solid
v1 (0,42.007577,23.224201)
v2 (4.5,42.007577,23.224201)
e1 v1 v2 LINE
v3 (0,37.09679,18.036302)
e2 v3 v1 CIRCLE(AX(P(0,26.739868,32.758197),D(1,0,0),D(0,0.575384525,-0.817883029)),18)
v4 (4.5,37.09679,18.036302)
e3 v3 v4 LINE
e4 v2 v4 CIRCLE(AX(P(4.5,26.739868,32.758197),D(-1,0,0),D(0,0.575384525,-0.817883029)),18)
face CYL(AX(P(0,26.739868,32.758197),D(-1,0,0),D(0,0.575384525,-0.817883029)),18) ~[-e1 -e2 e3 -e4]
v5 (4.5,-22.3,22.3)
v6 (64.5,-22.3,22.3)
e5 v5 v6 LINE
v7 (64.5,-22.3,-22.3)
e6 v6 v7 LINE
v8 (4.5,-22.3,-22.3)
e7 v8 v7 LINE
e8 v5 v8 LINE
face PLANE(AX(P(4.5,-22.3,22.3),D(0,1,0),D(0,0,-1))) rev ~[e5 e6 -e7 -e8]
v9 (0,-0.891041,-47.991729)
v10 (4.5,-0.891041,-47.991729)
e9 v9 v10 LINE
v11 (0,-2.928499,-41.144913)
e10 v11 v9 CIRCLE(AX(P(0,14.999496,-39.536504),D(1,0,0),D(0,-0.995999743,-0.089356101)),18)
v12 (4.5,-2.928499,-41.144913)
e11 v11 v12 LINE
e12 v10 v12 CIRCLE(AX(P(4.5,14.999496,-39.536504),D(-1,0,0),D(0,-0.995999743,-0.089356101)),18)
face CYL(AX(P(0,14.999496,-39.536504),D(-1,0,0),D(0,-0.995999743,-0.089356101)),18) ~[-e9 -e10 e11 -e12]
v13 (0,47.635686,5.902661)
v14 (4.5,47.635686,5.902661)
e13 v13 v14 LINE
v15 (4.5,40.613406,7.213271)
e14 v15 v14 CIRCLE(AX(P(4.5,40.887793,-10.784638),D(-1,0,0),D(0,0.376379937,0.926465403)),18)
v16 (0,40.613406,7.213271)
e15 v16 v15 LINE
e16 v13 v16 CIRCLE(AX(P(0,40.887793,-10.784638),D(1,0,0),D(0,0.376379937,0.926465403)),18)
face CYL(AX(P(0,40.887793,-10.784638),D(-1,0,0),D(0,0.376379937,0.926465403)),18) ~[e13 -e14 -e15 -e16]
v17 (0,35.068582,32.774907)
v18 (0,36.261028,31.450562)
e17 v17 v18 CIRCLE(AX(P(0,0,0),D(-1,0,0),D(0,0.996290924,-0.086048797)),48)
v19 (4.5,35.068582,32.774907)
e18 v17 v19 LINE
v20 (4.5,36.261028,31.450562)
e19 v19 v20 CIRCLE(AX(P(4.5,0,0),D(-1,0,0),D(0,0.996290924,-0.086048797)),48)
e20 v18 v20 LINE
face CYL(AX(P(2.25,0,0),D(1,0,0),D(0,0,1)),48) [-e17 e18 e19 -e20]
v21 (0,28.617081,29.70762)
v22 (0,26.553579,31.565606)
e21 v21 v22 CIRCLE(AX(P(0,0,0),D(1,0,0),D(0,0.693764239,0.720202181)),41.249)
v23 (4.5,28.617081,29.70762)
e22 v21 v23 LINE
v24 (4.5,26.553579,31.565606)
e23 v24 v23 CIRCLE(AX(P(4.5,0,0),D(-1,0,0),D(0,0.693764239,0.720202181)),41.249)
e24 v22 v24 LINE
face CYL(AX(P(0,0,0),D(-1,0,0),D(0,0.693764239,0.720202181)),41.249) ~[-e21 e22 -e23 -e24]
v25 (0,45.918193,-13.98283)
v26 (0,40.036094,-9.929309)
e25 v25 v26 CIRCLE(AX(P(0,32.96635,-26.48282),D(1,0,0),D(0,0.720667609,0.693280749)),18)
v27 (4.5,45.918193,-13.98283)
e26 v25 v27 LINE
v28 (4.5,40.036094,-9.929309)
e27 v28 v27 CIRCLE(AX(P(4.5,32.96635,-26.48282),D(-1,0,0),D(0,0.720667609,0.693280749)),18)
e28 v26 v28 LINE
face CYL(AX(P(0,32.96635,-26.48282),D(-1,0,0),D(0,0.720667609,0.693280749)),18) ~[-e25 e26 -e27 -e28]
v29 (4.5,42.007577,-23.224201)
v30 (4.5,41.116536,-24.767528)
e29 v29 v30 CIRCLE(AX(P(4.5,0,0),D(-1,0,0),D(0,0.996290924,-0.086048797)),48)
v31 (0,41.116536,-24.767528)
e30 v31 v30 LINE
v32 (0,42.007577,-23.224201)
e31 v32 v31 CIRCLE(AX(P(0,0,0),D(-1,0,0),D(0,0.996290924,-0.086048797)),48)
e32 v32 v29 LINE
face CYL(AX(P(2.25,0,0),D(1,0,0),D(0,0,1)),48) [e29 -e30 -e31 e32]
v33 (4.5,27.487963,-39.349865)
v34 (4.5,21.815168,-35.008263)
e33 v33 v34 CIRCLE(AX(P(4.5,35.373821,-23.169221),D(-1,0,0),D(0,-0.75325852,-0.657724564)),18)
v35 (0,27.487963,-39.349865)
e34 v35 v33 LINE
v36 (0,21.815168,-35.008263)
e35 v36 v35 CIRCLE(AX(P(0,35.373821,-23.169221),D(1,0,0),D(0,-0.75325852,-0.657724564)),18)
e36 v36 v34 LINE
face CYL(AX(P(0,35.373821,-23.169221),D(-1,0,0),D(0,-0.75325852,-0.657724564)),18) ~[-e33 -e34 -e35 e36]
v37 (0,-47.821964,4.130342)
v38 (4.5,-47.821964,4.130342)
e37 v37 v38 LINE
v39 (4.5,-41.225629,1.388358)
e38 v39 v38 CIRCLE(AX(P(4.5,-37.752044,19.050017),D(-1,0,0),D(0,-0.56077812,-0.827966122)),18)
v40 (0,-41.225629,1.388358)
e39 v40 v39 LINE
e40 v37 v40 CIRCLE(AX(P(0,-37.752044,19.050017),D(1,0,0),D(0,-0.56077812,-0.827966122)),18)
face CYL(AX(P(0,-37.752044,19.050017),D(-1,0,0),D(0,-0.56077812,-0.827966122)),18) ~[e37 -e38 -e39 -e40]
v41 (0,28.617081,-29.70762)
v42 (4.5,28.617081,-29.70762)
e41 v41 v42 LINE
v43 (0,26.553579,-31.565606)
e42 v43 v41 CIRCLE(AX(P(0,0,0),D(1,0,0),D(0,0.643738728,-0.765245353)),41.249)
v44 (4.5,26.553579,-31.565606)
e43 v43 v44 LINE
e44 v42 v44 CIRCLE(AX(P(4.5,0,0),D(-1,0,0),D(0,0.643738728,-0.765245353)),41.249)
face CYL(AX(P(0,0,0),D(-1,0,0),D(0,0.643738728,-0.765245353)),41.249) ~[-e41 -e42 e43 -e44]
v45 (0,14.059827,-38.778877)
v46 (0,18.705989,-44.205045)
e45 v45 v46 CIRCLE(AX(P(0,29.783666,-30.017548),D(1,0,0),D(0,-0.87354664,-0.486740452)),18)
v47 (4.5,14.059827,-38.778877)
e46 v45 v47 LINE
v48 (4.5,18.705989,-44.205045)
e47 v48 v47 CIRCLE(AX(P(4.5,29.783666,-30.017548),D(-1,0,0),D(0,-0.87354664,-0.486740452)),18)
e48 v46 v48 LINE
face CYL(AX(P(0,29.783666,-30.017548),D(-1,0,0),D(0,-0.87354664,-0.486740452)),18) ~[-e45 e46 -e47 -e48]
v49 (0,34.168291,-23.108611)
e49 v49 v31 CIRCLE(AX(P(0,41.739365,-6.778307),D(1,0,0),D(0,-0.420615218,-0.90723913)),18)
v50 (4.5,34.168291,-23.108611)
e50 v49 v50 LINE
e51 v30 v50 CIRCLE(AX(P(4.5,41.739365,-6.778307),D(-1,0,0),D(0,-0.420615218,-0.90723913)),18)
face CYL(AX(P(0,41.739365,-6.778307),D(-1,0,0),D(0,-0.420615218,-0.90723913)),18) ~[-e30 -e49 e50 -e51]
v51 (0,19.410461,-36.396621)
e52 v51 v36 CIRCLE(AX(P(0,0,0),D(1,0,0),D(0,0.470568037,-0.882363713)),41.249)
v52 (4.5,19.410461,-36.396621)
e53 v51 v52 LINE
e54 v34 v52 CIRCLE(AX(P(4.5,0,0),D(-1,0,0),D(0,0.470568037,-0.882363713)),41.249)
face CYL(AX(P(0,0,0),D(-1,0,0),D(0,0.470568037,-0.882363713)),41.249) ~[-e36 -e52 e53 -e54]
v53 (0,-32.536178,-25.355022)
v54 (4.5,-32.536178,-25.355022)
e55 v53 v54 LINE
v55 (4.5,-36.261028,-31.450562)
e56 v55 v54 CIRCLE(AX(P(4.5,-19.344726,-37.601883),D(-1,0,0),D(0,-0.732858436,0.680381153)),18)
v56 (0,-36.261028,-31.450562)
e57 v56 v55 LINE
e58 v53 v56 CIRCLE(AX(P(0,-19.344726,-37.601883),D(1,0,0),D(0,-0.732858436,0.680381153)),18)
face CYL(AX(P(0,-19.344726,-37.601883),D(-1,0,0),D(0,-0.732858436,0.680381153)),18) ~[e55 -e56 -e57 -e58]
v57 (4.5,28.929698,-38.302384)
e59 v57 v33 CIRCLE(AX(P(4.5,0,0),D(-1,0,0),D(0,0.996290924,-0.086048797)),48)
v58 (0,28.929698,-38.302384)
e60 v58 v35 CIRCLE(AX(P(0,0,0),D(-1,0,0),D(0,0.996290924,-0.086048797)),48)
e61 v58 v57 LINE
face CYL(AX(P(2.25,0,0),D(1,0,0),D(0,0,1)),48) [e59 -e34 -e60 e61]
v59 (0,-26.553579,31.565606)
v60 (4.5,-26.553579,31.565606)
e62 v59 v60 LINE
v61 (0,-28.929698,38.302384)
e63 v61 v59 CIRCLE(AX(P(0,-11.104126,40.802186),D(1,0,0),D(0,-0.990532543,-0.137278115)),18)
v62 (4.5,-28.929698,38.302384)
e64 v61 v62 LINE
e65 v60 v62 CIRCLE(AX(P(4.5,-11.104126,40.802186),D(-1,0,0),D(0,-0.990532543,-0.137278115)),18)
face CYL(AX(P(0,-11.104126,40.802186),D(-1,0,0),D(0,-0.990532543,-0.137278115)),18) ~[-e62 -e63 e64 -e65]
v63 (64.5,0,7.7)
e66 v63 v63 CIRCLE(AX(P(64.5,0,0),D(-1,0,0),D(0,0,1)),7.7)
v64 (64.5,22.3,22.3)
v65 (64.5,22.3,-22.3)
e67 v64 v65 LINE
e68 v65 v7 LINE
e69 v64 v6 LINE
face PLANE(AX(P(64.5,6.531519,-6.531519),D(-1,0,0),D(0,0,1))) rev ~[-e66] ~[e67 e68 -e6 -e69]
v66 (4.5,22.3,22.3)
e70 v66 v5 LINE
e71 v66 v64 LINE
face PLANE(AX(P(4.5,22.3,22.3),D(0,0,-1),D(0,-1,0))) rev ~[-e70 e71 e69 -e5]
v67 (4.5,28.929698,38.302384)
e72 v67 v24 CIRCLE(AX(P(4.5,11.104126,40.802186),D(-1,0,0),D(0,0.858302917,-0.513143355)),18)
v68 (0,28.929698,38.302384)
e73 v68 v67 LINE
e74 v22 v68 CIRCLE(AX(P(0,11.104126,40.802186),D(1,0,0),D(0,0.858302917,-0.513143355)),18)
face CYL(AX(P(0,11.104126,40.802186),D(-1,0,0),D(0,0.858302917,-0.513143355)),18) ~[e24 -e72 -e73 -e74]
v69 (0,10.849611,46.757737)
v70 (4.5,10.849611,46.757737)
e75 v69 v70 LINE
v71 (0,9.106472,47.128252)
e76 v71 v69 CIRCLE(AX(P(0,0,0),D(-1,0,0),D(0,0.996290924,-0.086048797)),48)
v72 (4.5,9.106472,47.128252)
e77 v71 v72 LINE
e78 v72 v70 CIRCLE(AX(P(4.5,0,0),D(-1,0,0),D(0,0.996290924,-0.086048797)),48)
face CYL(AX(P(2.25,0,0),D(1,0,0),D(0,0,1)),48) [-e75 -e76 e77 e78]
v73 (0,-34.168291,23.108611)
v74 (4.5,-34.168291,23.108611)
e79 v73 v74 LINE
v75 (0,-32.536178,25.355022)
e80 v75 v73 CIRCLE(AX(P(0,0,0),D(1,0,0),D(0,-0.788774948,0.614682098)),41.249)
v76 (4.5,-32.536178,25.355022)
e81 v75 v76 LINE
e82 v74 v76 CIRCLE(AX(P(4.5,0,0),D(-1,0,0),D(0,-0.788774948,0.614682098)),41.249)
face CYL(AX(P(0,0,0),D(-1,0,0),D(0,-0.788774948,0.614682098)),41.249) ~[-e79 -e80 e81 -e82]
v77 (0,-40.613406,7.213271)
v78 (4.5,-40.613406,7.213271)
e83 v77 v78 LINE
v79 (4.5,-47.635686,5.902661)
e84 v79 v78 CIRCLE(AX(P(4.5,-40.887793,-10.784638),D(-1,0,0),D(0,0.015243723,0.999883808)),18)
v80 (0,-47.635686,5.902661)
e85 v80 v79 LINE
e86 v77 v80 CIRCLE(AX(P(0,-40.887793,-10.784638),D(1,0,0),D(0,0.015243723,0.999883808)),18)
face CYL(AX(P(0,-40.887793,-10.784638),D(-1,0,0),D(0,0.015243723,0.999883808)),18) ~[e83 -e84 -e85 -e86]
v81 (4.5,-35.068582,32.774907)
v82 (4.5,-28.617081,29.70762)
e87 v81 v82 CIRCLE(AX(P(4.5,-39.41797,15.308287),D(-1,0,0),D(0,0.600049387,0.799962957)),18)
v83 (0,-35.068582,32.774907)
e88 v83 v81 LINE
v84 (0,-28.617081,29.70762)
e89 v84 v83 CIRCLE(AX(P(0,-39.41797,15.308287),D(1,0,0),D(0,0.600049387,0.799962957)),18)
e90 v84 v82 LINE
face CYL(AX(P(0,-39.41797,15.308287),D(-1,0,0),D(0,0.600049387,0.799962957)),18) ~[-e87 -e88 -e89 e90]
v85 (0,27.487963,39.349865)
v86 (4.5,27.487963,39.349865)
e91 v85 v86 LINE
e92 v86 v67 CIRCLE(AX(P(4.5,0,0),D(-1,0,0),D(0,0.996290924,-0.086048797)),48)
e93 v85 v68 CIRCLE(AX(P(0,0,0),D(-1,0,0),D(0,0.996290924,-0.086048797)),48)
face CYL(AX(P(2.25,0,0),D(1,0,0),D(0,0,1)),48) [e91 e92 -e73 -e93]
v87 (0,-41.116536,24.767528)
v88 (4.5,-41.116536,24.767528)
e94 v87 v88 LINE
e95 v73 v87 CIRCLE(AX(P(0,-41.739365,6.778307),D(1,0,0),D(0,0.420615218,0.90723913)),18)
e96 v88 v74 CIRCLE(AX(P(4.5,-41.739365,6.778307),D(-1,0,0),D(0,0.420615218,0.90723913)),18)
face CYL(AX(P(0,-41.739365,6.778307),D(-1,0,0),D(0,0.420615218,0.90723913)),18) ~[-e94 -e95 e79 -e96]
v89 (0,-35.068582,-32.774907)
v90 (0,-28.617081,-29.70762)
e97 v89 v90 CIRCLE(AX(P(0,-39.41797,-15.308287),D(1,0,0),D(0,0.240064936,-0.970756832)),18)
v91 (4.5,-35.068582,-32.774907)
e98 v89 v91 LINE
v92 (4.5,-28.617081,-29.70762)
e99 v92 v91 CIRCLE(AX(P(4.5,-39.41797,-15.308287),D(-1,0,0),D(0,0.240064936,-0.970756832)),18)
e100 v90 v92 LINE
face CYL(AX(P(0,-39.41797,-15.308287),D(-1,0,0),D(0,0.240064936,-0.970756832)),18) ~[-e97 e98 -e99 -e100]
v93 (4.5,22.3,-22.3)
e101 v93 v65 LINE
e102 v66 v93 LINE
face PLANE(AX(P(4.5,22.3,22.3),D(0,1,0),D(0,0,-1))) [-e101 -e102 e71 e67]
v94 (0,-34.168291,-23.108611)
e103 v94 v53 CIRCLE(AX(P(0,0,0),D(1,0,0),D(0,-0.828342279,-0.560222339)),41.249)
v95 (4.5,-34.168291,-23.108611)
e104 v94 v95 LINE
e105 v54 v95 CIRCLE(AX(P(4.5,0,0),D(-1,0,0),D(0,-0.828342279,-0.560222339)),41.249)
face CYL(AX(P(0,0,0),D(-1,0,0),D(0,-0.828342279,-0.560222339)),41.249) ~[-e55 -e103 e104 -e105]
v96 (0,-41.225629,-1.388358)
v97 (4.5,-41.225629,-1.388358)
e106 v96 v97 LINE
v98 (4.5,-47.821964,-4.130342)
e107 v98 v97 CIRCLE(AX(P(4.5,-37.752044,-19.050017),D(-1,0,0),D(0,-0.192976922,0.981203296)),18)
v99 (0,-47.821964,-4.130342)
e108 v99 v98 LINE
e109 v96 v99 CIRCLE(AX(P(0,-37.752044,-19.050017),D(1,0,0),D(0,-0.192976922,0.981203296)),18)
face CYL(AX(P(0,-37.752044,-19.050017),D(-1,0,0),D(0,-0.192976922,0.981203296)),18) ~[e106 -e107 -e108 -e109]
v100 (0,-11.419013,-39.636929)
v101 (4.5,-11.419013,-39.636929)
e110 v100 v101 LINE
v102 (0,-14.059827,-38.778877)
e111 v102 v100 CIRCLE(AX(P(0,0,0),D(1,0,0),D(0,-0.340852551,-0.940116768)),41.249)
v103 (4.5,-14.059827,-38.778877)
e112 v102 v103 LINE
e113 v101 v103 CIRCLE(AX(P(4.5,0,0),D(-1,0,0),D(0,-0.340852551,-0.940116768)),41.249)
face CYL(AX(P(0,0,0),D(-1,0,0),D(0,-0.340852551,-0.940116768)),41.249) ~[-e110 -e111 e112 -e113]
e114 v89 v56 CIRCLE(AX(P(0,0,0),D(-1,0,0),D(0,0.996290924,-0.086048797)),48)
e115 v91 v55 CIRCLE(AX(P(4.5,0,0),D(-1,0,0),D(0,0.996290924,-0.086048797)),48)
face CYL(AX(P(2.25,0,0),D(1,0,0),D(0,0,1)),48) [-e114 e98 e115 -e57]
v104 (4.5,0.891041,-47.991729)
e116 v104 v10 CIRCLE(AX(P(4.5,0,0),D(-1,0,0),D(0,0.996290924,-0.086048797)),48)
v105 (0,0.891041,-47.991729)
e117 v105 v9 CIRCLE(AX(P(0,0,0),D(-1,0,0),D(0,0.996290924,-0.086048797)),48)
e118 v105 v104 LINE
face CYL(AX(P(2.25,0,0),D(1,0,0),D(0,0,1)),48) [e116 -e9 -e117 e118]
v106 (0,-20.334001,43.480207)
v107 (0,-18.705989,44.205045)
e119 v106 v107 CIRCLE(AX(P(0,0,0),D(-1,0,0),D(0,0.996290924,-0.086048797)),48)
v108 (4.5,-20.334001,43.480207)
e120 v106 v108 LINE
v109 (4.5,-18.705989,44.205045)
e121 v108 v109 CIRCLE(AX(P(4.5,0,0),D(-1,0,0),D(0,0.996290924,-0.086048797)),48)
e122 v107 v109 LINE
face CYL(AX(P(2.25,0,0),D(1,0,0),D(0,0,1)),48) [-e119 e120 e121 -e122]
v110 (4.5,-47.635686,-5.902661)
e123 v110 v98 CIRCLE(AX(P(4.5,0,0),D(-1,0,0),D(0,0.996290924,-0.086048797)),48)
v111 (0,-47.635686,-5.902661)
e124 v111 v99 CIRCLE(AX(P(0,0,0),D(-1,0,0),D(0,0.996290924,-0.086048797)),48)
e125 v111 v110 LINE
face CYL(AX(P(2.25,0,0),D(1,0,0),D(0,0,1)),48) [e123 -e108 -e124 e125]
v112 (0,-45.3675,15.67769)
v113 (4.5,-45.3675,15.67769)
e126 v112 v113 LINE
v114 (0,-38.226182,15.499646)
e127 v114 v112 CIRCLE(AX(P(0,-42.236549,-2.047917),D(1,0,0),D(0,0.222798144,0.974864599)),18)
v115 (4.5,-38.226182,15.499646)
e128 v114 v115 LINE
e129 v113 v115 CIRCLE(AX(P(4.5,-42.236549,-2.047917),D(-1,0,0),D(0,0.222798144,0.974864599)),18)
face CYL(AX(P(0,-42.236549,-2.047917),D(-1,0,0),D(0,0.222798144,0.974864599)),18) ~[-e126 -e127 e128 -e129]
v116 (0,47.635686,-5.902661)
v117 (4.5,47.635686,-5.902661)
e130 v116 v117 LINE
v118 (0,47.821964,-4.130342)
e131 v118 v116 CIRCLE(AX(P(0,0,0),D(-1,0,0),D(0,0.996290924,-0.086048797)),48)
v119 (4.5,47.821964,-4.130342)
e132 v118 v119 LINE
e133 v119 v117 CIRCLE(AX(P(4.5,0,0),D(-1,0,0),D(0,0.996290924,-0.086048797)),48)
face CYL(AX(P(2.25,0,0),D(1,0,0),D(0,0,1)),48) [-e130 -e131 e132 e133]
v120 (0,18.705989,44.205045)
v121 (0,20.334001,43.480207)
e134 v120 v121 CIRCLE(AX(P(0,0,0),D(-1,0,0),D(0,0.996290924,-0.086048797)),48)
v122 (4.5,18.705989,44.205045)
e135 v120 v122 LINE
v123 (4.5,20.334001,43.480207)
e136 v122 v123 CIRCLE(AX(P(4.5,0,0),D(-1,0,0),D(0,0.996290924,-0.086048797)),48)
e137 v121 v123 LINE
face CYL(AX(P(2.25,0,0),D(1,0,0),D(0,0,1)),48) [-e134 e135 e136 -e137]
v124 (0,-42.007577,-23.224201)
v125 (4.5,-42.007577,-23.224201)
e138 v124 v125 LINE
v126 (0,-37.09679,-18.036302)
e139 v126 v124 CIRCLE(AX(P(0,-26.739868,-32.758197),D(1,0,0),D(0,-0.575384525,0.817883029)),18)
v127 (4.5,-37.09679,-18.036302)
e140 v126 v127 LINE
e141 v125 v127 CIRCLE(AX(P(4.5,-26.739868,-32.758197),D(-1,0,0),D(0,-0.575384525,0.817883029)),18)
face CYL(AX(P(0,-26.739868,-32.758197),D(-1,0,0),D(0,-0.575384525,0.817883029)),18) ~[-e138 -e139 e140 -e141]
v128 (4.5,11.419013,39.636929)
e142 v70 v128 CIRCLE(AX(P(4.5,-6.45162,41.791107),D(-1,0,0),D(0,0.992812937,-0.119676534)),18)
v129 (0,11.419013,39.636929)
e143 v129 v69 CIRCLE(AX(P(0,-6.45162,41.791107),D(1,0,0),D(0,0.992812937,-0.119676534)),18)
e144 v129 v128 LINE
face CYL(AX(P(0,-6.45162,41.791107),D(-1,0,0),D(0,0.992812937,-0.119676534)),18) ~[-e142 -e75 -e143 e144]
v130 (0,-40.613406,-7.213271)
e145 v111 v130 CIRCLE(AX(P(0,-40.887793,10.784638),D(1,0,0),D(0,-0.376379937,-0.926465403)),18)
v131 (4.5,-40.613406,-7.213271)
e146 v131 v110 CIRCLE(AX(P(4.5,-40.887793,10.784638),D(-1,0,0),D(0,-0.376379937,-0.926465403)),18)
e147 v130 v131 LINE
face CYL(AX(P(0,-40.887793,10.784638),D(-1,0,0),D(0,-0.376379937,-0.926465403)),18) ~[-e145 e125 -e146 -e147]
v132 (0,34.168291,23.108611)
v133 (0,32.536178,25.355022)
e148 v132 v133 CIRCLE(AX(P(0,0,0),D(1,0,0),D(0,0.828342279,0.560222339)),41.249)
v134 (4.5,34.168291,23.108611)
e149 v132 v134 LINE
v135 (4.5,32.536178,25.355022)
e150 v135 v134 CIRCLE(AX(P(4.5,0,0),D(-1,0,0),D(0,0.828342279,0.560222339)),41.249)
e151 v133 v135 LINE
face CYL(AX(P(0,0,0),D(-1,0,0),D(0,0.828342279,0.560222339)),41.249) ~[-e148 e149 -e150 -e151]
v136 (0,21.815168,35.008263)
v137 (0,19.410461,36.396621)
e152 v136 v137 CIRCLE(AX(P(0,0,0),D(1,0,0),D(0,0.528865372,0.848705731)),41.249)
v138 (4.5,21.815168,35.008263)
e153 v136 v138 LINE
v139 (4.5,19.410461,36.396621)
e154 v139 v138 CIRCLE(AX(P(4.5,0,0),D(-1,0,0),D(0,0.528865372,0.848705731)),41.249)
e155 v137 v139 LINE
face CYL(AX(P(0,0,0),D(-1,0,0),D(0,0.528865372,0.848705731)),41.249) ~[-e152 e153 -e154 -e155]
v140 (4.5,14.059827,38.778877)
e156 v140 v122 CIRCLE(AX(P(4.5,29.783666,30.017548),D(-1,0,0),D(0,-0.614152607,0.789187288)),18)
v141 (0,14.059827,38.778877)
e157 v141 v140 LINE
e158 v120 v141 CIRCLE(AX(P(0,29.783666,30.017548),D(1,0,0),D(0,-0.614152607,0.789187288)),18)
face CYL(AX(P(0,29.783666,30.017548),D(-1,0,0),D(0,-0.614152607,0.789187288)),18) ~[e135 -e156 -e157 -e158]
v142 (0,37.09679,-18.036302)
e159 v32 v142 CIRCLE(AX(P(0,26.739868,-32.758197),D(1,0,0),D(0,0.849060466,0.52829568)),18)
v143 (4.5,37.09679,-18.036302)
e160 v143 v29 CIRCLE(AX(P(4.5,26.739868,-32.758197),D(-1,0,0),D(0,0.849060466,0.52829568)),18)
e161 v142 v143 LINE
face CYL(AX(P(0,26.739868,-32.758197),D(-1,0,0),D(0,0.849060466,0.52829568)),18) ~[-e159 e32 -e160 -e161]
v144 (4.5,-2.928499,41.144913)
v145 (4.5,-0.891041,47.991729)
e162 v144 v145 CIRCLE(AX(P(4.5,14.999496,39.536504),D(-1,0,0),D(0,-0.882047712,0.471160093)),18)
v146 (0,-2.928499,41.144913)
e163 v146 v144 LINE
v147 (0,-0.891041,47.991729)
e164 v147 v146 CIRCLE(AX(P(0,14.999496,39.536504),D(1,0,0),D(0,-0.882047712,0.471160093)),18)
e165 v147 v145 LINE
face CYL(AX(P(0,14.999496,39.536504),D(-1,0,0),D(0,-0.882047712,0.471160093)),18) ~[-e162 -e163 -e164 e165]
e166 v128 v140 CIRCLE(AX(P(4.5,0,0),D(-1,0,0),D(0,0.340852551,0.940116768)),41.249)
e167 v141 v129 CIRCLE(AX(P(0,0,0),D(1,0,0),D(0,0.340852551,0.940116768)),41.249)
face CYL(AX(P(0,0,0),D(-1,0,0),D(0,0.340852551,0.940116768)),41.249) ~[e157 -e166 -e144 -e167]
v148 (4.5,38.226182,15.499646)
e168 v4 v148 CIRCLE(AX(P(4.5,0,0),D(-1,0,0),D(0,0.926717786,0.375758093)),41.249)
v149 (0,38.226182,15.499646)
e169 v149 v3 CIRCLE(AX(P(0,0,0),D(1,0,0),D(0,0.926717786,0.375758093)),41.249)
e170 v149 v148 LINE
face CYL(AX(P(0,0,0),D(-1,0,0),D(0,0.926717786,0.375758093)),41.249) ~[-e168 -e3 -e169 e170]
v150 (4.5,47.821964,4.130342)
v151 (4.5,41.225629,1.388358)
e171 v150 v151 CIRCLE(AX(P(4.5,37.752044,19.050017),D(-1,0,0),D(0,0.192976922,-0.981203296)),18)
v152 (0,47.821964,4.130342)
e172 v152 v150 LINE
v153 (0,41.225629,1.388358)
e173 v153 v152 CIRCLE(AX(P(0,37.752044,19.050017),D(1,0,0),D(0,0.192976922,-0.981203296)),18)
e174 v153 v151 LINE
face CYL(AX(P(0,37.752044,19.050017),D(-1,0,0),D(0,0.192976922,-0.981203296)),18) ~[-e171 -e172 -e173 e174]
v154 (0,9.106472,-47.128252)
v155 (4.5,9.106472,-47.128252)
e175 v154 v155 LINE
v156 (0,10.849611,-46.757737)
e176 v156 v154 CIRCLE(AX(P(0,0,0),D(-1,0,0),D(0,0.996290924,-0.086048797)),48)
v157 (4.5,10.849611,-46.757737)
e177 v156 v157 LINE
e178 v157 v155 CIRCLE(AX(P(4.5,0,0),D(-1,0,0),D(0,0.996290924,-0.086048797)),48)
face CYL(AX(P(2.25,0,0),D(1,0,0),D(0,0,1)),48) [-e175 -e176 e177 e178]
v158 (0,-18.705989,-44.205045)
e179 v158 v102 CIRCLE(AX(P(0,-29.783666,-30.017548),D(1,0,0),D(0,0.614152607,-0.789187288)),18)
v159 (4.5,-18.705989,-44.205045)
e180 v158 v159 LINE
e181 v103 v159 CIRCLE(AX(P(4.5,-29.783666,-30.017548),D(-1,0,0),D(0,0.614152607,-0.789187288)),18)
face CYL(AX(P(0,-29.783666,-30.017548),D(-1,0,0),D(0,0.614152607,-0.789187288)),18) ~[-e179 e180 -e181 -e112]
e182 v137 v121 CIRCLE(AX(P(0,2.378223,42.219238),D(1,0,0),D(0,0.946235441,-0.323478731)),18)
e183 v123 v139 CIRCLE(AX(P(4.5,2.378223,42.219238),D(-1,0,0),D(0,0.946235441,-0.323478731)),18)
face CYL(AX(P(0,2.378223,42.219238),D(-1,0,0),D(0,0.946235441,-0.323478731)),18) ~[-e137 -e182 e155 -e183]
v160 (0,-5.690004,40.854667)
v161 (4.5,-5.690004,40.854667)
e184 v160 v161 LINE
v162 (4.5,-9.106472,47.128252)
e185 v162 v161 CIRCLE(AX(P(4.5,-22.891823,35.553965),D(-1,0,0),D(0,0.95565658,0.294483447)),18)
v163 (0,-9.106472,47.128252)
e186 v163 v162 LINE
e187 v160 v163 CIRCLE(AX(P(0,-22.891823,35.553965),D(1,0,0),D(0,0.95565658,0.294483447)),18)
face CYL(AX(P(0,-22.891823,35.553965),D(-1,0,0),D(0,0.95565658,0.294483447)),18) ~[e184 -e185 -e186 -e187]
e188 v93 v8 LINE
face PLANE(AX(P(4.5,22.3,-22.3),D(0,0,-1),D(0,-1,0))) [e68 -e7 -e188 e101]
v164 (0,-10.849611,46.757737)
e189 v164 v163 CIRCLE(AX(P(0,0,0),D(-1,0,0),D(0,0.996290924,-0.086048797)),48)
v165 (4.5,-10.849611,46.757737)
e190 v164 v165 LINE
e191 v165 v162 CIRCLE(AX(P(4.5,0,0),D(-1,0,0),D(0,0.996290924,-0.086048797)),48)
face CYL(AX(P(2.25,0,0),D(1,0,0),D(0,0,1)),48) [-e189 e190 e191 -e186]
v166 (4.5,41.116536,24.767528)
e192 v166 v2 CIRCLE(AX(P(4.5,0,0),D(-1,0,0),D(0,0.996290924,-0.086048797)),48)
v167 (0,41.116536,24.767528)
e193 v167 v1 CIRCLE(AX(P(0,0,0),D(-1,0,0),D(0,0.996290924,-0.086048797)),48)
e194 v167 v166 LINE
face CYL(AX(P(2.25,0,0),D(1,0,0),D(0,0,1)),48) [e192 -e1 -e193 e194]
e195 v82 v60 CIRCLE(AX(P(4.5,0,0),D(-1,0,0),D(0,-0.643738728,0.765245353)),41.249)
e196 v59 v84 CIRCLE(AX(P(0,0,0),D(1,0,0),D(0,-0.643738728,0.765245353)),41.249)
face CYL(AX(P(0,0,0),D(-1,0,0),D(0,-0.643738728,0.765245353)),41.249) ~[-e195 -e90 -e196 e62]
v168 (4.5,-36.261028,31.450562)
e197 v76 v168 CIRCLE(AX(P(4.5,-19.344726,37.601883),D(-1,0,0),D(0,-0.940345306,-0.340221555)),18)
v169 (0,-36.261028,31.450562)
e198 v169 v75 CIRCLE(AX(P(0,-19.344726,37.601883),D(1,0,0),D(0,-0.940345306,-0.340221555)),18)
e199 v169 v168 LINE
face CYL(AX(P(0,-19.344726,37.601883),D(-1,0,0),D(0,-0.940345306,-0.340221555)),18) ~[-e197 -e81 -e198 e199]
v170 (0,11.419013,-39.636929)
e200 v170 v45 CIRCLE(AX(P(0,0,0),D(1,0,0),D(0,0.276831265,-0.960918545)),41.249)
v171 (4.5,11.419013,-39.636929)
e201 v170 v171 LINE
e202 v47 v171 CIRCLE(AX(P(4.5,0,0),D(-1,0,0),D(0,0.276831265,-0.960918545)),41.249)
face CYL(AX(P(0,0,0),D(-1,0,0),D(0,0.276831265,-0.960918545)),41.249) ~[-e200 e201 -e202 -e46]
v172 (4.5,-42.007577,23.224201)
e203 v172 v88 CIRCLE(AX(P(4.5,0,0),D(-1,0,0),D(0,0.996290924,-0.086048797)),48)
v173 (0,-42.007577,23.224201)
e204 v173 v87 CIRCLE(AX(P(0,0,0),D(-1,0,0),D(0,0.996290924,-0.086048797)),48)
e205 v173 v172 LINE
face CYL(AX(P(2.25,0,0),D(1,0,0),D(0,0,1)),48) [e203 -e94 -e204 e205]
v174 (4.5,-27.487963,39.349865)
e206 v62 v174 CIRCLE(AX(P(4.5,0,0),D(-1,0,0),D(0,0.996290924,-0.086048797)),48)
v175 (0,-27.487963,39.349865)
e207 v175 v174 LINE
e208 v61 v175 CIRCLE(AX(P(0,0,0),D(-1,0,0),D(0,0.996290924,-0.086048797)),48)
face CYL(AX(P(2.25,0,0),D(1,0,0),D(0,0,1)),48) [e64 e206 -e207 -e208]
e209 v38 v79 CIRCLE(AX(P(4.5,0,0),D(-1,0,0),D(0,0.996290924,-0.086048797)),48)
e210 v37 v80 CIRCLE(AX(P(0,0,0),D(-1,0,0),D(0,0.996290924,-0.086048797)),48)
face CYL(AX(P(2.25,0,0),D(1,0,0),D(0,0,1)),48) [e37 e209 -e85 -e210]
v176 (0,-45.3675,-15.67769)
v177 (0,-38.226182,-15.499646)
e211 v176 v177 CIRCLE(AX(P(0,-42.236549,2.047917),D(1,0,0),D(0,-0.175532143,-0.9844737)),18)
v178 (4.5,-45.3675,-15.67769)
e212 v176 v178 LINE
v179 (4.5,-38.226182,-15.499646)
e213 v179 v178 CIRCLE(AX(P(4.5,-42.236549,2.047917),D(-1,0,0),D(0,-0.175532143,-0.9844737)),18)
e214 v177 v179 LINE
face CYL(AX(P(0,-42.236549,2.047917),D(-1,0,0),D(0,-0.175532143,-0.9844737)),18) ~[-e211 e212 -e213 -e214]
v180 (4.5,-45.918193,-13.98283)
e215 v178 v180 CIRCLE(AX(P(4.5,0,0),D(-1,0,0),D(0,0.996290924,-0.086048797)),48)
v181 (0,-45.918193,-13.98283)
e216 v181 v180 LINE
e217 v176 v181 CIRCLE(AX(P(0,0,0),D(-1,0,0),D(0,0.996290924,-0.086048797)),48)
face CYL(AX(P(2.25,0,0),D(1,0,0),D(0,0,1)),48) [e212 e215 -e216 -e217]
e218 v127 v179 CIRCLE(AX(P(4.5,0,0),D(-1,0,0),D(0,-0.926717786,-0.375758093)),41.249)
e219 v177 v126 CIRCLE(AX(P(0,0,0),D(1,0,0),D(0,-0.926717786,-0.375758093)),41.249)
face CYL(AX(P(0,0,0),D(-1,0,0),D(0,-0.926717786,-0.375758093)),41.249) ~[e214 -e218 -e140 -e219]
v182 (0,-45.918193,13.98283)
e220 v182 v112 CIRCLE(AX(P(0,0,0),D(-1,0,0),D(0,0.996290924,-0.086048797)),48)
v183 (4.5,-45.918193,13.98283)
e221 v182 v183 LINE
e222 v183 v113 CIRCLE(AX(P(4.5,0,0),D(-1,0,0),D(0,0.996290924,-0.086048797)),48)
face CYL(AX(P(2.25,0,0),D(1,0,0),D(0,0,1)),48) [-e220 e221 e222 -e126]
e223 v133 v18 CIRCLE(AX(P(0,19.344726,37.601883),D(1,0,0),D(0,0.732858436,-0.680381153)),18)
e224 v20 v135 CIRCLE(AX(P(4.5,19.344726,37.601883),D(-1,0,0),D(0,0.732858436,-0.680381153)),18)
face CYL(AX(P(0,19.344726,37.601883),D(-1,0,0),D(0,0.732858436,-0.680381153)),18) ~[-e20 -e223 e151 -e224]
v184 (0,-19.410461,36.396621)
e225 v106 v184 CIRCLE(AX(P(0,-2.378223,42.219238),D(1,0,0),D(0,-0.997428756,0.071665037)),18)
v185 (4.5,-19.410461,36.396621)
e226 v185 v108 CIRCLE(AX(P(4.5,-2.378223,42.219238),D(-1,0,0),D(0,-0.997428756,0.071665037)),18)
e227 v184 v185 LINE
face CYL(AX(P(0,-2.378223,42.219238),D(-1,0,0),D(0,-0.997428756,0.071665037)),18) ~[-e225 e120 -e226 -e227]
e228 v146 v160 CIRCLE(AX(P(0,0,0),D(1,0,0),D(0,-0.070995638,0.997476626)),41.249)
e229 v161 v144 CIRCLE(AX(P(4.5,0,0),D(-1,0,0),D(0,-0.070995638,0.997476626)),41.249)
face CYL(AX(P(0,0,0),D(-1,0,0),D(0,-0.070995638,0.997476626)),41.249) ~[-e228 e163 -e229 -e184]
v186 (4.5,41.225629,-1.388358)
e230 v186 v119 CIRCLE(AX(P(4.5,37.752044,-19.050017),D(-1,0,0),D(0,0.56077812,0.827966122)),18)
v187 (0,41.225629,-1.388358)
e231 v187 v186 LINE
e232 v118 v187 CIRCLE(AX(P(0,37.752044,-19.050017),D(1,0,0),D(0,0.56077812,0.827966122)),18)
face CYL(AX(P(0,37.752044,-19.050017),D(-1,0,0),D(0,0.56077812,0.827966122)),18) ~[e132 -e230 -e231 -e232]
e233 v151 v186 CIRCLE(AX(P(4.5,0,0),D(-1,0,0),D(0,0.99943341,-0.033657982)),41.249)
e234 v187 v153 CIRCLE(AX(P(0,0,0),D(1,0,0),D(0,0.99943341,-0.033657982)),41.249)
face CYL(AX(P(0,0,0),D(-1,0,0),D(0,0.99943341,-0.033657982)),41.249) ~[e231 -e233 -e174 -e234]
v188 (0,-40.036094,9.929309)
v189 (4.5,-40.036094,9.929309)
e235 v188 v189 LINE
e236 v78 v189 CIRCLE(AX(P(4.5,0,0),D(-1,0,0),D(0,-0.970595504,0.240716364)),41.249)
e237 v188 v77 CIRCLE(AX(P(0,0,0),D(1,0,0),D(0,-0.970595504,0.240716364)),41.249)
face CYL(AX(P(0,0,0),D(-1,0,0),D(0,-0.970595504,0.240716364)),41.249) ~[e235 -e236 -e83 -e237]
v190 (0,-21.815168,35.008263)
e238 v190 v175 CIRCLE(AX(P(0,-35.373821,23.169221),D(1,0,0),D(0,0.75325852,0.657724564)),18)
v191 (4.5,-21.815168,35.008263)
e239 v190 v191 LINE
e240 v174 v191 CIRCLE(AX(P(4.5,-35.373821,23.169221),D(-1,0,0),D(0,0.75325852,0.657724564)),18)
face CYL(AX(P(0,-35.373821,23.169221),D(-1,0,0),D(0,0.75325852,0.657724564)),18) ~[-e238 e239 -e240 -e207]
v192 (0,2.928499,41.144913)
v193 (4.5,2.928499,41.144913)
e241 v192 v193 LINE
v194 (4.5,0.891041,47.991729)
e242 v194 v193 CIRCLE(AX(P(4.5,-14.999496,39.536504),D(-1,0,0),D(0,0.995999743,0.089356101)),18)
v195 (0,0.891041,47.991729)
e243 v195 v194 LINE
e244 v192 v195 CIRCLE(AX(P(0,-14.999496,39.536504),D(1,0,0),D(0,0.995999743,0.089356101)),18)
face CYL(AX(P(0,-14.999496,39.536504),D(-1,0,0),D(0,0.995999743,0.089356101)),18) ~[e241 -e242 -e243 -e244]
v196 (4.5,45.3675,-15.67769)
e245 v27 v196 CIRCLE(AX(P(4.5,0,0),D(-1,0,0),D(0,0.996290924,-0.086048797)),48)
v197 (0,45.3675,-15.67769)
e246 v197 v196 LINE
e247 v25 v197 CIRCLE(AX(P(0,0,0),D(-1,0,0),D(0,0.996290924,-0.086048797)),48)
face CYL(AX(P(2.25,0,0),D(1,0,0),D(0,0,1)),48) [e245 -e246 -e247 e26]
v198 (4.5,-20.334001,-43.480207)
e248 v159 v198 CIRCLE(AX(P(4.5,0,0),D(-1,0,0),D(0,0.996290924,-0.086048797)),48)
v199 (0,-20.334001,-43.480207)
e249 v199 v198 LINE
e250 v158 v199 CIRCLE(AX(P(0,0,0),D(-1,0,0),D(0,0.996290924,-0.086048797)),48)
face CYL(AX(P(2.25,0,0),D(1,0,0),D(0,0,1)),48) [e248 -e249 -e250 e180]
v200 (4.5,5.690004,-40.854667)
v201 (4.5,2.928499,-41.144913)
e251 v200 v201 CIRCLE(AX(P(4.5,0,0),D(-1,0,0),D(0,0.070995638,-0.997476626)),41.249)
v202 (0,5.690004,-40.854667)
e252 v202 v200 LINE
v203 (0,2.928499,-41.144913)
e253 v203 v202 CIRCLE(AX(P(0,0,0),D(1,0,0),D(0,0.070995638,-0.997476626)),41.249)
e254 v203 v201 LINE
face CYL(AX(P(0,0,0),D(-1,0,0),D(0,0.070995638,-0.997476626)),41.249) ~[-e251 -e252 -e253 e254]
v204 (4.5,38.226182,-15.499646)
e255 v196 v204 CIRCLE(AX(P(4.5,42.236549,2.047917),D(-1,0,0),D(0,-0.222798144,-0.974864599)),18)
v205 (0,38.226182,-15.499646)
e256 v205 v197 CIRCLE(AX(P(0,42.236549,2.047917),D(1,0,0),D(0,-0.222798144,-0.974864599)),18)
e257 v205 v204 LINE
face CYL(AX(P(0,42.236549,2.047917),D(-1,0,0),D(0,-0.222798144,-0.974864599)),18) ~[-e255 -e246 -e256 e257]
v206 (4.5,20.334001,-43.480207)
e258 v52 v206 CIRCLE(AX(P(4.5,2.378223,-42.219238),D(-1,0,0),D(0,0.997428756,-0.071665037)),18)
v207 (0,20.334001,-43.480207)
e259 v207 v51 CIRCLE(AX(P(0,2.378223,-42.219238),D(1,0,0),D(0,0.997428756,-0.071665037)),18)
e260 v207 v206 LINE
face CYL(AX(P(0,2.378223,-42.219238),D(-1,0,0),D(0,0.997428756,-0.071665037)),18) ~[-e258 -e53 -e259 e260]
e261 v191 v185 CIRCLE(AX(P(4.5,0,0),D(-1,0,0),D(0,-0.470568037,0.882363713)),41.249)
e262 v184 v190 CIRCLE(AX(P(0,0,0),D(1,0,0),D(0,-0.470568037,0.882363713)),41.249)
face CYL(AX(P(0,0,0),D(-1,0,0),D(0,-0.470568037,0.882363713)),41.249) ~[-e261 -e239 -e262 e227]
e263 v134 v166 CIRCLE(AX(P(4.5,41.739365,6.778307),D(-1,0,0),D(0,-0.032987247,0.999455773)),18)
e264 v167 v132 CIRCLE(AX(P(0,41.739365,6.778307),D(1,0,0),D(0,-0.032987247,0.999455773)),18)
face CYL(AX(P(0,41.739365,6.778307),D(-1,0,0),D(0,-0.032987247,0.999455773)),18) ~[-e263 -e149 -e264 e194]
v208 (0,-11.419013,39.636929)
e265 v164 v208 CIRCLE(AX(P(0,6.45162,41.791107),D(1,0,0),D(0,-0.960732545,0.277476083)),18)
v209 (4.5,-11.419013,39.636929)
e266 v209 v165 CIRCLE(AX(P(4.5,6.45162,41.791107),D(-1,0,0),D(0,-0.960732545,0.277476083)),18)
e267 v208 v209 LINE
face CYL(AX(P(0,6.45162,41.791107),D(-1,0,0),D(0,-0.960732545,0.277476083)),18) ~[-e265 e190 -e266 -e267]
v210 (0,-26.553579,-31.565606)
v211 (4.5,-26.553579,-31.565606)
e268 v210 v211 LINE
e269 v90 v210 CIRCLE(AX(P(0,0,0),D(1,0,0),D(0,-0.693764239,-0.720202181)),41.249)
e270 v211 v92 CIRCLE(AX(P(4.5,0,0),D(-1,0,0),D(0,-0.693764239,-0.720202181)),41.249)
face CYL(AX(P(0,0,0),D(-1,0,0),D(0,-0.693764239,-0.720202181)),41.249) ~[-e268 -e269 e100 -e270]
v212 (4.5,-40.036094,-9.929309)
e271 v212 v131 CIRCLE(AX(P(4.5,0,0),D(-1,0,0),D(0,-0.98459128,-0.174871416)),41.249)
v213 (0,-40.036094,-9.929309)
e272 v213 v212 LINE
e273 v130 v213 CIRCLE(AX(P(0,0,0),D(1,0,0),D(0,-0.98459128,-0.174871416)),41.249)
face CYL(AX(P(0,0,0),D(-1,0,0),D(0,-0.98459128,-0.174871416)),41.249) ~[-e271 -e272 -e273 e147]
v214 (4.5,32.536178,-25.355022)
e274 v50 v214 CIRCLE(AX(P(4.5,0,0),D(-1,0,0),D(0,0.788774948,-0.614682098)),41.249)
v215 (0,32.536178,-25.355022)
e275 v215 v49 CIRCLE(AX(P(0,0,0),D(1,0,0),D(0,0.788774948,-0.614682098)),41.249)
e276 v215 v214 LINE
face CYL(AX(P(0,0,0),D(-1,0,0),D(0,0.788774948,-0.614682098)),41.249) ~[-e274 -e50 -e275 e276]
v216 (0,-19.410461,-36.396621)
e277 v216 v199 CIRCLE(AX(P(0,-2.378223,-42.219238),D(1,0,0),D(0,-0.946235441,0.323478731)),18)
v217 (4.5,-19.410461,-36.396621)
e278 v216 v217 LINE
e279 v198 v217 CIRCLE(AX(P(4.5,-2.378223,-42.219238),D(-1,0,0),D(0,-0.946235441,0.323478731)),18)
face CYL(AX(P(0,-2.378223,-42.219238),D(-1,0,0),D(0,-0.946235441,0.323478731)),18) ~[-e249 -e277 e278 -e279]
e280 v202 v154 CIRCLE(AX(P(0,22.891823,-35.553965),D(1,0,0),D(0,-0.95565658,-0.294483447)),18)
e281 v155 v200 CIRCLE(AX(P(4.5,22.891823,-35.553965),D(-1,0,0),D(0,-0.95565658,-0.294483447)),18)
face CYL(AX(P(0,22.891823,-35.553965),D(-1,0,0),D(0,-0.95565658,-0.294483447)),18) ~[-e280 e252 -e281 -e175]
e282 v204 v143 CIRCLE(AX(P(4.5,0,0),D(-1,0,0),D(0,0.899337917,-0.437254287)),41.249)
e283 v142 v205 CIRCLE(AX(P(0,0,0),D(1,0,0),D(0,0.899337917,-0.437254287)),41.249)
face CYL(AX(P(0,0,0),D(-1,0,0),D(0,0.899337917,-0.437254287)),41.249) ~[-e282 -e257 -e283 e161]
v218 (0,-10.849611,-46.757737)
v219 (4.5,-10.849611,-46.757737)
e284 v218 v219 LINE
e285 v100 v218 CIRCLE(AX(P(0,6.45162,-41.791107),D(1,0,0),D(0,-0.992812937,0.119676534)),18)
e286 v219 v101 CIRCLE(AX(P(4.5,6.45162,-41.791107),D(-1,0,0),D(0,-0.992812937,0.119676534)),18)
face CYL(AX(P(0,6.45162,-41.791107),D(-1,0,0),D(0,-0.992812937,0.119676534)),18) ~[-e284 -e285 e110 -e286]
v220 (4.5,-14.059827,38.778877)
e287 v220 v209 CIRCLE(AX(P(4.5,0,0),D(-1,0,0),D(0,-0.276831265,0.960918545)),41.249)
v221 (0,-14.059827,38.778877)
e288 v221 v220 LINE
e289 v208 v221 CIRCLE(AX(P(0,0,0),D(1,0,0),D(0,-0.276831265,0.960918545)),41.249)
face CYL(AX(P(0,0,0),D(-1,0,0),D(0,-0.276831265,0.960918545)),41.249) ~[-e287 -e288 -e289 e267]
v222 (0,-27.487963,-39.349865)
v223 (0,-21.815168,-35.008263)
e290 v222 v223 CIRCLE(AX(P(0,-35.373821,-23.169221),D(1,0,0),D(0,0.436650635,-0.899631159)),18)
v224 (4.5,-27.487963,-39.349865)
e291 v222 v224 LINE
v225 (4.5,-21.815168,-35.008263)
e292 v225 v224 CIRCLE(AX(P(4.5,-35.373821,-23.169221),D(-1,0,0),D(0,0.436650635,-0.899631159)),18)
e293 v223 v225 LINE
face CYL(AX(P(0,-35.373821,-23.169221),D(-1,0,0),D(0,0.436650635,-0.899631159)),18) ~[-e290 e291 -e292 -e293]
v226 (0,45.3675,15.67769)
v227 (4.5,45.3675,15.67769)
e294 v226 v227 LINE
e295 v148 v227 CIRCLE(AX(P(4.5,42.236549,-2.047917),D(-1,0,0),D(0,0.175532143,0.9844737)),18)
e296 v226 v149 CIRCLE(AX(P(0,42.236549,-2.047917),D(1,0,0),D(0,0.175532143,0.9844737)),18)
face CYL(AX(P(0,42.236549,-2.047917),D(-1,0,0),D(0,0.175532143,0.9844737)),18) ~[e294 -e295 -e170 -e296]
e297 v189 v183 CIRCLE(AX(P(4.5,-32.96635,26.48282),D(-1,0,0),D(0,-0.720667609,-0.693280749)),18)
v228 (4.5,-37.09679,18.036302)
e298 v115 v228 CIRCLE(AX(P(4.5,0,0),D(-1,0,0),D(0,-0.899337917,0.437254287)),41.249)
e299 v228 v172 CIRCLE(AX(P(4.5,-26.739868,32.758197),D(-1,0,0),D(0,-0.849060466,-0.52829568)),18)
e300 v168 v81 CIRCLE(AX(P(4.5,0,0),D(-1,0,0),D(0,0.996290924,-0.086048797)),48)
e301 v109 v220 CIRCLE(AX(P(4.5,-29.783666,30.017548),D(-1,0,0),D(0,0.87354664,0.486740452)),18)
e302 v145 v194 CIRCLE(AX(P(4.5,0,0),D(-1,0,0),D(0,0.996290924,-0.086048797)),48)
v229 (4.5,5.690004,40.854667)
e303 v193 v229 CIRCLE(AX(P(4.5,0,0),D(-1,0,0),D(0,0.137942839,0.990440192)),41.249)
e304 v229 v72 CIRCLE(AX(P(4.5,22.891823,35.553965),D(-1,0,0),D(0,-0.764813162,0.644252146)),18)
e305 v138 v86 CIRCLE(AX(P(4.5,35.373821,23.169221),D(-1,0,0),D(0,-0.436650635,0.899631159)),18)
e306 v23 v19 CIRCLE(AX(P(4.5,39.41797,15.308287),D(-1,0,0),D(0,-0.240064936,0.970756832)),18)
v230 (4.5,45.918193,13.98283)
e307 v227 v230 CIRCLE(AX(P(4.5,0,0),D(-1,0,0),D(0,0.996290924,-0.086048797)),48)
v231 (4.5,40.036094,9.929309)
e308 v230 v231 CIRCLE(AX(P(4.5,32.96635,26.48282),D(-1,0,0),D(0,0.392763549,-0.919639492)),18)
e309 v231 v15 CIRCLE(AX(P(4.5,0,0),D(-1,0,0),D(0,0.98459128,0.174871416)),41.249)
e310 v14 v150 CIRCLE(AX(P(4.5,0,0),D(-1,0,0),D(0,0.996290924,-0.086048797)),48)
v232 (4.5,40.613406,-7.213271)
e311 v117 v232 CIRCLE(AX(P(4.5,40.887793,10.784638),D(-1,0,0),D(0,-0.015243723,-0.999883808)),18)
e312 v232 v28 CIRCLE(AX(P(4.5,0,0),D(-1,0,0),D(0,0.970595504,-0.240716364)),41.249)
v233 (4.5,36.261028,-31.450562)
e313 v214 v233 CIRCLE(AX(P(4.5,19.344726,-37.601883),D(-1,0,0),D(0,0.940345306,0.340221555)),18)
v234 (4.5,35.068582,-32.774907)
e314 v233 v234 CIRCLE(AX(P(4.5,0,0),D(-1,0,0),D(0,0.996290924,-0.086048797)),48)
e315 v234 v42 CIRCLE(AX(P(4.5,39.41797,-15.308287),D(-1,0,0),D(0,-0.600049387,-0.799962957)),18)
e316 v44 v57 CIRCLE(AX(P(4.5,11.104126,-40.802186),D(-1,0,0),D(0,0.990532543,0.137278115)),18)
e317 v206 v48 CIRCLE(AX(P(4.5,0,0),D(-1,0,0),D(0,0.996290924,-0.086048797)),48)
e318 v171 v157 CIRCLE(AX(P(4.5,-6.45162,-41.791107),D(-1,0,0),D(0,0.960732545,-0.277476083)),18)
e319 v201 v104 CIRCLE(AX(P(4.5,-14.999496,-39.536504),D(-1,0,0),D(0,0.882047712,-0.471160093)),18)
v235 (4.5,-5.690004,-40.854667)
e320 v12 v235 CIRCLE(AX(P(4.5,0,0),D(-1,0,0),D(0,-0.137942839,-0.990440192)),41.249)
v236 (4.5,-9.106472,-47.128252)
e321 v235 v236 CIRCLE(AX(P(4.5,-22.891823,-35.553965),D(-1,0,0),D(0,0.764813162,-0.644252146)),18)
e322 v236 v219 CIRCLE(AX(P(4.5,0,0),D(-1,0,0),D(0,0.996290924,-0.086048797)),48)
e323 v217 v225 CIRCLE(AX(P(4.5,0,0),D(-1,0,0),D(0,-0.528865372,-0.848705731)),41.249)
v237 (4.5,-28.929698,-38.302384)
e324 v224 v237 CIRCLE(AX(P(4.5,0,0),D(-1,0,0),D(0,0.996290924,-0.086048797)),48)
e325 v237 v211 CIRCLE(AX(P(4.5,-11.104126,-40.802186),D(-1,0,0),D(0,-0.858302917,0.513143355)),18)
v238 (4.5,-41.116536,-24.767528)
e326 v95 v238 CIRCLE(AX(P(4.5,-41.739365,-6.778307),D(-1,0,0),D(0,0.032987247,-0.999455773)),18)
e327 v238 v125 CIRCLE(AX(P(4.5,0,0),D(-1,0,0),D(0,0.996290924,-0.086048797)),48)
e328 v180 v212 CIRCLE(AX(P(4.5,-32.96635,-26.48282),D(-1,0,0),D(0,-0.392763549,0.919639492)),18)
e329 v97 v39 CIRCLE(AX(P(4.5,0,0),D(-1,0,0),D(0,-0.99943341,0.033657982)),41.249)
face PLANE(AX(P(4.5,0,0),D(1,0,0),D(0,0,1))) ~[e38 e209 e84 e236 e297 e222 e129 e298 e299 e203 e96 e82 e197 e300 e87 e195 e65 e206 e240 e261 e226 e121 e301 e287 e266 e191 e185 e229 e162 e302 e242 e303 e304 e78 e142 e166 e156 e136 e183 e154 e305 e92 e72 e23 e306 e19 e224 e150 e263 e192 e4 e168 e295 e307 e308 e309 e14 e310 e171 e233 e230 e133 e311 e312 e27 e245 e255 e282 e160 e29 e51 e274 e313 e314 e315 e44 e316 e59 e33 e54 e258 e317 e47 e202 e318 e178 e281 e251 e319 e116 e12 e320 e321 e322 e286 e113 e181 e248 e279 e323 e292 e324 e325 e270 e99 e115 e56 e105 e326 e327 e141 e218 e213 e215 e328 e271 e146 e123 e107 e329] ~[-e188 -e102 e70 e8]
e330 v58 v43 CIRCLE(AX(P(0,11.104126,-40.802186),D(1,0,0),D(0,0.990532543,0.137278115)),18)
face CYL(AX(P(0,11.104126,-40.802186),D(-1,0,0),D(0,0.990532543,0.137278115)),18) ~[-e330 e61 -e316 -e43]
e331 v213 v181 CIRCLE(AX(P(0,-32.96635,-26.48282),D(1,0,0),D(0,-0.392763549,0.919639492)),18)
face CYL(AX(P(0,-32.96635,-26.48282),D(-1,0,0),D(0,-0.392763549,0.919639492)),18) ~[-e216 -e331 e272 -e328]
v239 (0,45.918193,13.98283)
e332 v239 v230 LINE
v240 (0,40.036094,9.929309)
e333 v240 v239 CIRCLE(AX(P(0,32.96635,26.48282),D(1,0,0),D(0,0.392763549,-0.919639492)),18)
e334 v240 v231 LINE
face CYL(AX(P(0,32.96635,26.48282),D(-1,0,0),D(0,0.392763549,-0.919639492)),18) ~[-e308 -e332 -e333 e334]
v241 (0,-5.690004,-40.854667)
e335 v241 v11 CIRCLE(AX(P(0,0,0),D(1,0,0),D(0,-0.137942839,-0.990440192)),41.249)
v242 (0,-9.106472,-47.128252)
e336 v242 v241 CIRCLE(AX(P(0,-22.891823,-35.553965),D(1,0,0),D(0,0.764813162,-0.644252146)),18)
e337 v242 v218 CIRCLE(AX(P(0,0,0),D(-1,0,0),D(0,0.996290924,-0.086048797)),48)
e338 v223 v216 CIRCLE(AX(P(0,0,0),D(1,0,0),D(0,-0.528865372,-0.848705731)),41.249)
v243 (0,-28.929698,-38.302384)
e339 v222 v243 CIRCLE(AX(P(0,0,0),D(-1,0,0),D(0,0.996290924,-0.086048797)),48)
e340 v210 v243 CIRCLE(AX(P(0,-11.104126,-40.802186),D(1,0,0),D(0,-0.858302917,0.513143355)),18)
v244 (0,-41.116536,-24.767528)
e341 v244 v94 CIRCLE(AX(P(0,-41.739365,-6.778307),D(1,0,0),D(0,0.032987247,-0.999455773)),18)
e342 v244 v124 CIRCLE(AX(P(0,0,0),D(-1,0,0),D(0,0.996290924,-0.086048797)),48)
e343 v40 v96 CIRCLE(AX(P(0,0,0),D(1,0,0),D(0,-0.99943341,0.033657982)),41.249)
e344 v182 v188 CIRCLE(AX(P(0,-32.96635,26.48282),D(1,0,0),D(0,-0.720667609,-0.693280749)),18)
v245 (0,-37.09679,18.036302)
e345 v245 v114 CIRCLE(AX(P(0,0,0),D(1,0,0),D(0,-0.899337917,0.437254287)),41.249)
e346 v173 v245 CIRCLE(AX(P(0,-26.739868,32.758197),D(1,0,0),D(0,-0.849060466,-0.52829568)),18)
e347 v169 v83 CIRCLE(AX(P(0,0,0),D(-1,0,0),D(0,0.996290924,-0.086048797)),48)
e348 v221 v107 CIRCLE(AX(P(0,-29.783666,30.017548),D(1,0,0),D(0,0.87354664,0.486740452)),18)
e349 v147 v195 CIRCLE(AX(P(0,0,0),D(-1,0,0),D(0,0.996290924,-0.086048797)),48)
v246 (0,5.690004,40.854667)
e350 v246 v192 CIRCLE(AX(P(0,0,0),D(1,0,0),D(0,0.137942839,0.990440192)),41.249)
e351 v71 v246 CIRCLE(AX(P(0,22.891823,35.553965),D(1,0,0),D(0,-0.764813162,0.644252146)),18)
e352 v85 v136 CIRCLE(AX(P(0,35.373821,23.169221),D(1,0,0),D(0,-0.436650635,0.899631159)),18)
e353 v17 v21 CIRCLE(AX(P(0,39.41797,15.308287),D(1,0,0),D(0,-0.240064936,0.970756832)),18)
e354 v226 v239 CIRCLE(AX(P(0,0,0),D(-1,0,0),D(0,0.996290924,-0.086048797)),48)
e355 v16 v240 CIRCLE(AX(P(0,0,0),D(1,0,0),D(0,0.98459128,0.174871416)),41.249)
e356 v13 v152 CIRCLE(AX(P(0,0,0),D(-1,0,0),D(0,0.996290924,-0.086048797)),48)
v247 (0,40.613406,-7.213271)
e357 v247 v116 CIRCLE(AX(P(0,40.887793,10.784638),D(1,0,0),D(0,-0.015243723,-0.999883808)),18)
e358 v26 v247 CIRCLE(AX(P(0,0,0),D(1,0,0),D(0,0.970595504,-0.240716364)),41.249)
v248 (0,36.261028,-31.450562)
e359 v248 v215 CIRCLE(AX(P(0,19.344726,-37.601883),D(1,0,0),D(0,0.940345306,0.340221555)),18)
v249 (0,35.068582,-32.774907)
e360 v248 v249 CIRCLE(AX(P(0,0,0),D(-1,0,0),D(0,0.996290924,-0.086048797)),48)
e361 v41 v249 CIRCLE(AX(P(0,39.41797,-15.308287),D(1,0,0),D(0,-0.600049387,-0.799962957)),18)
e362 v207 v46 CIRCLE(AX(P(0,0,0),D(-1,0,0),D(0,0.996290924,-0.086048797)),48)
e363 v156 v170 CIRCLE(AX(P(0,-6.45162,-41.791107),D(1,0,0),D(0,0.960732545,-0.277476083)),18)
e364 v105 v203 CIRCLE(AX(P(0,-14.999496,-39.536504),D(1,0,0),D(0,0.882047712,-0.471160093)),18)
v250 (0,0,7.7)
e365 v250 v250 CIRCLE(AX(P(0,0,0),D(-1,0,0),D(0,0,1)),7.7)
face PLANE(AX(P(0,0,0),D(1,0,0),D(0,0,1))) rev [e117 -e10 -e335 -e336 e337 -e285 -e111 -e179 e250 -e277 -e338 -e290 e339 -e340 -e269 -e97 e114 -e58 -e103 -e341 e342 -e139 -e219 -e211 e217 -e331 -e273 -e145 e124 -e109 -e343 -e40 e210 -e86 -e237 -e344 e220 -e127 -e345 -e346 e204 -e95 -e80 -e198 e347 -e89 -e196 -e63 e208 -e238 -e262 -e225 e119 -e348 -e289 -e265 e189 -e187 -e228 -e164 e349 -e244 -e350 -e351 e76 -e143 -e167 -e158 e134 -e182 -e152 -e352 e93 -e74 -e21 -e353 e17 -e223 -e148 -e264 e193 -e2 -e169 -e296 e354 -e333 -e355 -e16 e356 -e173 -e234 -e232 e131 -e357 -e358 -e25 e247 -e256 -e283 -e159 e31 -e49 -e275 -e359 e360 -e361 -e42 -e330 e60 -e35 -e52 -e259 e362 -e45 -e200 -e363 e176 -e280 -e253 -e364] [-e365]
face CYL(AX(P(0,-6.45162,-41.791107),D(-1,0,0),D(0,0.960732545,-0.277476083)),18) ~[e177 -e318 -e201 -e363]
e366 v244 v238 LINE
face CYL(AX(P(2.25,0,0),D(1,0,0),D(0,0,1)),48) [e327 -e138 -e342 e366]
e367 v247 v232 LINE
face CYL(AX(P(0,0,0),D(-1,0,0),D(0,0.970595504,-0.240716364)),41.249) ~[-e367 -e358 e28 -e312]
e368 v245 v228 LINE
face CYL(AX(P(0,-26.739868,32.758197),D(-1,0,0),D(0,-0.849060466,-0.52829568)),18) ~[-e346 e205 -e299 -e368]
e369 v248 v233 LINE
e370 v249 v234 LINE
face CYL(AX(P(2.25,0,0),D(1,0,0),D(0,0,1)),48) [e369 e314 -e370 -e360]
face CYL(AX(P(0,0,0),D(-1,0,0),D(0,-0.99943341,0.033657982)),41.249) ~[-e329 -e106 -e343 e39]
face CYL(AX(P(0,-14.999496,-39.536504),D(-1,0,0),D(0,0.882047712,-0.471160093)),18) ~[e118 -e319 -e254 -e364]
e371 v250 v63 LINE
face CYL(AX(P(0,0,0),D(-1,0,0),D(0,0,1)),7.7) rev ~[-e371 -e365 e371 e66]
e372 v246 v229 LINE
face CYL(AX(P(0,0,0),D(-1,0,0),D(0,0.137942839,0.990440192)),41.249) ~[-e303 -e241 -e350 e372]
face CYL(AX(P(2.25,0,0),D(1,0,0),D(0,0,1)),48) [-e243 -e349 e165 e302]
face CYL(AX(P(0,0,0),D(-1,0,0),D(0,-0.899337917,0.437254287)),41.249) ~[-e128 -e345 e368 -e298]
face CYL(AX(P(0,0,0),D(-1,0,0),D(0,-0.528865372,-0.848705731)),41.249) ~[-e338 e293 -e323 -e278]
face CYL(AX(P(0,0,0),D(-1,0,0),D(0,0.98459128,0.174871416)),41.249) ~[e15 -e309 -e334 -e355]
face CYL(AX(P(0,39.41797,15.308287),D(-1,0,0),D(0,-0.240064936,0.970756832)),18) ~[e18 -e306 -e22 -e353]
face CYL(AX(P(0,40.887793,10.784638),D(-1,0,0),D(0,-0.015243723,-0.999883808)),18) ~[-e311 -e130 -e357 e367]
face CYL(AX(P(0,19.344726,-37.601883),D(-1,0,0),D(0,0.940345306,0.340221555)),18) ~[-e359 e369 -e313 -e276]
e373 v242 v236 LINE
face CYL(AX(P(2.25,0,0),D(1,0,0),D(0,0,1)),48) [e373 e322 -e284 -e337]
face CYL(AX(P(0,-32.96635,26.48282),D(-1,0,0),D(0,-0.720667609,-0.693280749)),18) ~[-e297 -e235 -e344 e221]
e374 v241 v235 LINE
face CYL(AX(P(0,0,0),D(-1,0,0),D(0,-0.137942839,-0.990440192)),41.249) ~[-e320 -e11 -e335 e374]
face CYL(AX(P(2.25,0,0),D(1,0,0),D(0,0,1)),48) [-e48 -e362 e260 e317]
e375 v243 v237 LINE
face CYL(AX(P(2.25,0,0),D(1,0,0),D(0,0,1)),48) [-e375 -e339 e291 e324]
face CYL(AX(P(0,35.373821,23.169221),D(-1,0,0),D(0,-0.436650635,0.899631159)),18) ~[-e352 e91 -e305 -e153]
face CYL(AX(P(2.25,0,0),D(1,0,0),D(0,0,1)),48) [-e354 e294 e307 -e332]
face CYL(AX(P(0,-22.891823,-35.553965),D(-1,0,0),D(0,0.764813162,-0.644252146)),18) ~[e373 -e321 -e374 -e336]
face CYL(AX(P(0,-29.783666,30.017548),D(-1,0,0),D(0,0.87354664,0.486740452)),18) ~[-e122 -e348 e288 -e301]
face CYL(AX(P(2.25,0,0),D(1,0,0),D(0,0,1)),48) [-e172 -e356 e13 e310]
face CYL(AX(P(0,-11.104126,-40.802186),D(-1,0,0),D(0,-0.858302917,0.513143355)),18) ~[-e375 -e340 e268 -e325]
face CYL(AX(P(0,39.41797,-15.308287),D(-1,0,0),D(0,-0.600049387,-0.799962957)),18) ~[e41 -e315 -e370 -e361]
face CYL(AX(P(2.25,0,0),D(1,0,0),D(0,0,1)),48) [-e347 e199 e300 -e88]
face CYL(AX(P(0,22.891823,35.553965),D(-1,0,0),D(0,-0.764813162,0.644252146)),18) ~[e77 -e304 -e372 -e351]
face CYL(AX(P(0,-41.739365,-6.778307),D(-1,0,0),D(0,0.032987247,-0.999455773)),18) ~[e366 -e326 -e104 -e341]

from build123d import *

# Parameters (mm, degrees)
BASPROSKE_W         = 4.5
BASPROSKE_H         = 48
TOOTHCUT_DEPTH      = 69.031242823
TEETHCUTS_COUNT     = 30
TEETHCUTS_ANGLE     = 348
BORSKE_R            = 5
BORE_DEPTH          = 50.0000508
BOSS_EXTRUDE2_DEPTH = 60
SKETCH6_R           = 7.7
CUT_EXTRUDE2_DEPTH  = 94.547796729


with BuildPart() as part:
    # BasProSke → Base-Revolve (revolve)
    with BuildSketch(Plane(origin=(0, 0, 0), x_dir=(1, 0, 0), z_dir=(0, 1, 0)), mode=Mode.PRIVATE) as base_revolve_sk:
        with Locations((2.25, 24)):
            Rectangle(BASPROSKE_W, BASPROSKE_H)
    revolve(base_revolve_sk.sketch.rotate(Axis((-10, 0, 0), (1, 0, 0)), 180), axis=Axis((-10, 0, 0), (1, 0, 0)))

    # TooCutSke → ToothCut (cut, through all)
    with BuildSketch(Plane(origin=(0, 0, 0), x_dir=(0, 0, -1), z_dir=(1, 0, 0))):
        with BuildLine():
            ThreePointArc((1.388358102, 41.225628713), (0, 41.249), (-1.388358102, 41.225628713))
            ThreePointArc((-1.388358102, 41.225628713), (-2.434419088, 44.674608087), (-4.146627223, 47.846050285))
            ThreePointArc((-4.146627223, 47.846050285), (0, 48.0254), (4.146627223, 47.846050285))
            ThreePointArc((4.146627223, 47.846050285), (2.434419088, 44.674608087), (1.388358102, 41.225628713))
        make_face()
    toothcut = extrude(amount=TOOTHCUT_DEPTH, mode=Mode.SUBTRACT)

    # TeethCuts: ToothCut ×30 about axis
    teethcuts_axis = Axis((-10, 0, 0), (1, 0, 0))
    for i in range(1, TEETHCUTS_COUNT):
        add(toothcut.rotate(teethcuts_axis, i * TEETHCUTS_ANGLE / (TEETHCUTS_COUNT - 1)), mode=Mode.SUBTRACT)

    # BorSke → Bore (cut, symmetric)
    with BuildSketch(Plane(origin=(0, 0, 0), x_dir=(0, 0, -1), z_dir=(1, 0, 0))):
        with Locations(Location((0, 0, 0), (0, 0, 180))):
            Circle(BORSKE_R)
    extrude(amount=BORE_DEPTH, both=True, mode=Mode.SUBTRACT)

    # Sketch5 → Boss-Extrude2 (add)
    with BuildSketch(Plane(origin=(4.5, 0, 0), x_dir=(0, 0, -1), z_dir=(1, 0, 0))):
        Polygon((22.3, 22.3), (22.3, -22.3), (-22.3, 22.3), align=None)
        Polygon((-22.3, 22.3), (-22.3, -22.3), (22.3, -22.3), align=None)
    extrude(amount=BOSS_EXTRUDE2_DEPTH)

    # Sketch6 → Cut-Extrude2 (cut, through all)
    with BuildSketch(Plane.ZY):
        Circle(SKETCH6_R)
    extrude(amount=-CUT_EXTRUDE2_DEPTH, mode=Mode.SUBTRACT)


solid = part.part
